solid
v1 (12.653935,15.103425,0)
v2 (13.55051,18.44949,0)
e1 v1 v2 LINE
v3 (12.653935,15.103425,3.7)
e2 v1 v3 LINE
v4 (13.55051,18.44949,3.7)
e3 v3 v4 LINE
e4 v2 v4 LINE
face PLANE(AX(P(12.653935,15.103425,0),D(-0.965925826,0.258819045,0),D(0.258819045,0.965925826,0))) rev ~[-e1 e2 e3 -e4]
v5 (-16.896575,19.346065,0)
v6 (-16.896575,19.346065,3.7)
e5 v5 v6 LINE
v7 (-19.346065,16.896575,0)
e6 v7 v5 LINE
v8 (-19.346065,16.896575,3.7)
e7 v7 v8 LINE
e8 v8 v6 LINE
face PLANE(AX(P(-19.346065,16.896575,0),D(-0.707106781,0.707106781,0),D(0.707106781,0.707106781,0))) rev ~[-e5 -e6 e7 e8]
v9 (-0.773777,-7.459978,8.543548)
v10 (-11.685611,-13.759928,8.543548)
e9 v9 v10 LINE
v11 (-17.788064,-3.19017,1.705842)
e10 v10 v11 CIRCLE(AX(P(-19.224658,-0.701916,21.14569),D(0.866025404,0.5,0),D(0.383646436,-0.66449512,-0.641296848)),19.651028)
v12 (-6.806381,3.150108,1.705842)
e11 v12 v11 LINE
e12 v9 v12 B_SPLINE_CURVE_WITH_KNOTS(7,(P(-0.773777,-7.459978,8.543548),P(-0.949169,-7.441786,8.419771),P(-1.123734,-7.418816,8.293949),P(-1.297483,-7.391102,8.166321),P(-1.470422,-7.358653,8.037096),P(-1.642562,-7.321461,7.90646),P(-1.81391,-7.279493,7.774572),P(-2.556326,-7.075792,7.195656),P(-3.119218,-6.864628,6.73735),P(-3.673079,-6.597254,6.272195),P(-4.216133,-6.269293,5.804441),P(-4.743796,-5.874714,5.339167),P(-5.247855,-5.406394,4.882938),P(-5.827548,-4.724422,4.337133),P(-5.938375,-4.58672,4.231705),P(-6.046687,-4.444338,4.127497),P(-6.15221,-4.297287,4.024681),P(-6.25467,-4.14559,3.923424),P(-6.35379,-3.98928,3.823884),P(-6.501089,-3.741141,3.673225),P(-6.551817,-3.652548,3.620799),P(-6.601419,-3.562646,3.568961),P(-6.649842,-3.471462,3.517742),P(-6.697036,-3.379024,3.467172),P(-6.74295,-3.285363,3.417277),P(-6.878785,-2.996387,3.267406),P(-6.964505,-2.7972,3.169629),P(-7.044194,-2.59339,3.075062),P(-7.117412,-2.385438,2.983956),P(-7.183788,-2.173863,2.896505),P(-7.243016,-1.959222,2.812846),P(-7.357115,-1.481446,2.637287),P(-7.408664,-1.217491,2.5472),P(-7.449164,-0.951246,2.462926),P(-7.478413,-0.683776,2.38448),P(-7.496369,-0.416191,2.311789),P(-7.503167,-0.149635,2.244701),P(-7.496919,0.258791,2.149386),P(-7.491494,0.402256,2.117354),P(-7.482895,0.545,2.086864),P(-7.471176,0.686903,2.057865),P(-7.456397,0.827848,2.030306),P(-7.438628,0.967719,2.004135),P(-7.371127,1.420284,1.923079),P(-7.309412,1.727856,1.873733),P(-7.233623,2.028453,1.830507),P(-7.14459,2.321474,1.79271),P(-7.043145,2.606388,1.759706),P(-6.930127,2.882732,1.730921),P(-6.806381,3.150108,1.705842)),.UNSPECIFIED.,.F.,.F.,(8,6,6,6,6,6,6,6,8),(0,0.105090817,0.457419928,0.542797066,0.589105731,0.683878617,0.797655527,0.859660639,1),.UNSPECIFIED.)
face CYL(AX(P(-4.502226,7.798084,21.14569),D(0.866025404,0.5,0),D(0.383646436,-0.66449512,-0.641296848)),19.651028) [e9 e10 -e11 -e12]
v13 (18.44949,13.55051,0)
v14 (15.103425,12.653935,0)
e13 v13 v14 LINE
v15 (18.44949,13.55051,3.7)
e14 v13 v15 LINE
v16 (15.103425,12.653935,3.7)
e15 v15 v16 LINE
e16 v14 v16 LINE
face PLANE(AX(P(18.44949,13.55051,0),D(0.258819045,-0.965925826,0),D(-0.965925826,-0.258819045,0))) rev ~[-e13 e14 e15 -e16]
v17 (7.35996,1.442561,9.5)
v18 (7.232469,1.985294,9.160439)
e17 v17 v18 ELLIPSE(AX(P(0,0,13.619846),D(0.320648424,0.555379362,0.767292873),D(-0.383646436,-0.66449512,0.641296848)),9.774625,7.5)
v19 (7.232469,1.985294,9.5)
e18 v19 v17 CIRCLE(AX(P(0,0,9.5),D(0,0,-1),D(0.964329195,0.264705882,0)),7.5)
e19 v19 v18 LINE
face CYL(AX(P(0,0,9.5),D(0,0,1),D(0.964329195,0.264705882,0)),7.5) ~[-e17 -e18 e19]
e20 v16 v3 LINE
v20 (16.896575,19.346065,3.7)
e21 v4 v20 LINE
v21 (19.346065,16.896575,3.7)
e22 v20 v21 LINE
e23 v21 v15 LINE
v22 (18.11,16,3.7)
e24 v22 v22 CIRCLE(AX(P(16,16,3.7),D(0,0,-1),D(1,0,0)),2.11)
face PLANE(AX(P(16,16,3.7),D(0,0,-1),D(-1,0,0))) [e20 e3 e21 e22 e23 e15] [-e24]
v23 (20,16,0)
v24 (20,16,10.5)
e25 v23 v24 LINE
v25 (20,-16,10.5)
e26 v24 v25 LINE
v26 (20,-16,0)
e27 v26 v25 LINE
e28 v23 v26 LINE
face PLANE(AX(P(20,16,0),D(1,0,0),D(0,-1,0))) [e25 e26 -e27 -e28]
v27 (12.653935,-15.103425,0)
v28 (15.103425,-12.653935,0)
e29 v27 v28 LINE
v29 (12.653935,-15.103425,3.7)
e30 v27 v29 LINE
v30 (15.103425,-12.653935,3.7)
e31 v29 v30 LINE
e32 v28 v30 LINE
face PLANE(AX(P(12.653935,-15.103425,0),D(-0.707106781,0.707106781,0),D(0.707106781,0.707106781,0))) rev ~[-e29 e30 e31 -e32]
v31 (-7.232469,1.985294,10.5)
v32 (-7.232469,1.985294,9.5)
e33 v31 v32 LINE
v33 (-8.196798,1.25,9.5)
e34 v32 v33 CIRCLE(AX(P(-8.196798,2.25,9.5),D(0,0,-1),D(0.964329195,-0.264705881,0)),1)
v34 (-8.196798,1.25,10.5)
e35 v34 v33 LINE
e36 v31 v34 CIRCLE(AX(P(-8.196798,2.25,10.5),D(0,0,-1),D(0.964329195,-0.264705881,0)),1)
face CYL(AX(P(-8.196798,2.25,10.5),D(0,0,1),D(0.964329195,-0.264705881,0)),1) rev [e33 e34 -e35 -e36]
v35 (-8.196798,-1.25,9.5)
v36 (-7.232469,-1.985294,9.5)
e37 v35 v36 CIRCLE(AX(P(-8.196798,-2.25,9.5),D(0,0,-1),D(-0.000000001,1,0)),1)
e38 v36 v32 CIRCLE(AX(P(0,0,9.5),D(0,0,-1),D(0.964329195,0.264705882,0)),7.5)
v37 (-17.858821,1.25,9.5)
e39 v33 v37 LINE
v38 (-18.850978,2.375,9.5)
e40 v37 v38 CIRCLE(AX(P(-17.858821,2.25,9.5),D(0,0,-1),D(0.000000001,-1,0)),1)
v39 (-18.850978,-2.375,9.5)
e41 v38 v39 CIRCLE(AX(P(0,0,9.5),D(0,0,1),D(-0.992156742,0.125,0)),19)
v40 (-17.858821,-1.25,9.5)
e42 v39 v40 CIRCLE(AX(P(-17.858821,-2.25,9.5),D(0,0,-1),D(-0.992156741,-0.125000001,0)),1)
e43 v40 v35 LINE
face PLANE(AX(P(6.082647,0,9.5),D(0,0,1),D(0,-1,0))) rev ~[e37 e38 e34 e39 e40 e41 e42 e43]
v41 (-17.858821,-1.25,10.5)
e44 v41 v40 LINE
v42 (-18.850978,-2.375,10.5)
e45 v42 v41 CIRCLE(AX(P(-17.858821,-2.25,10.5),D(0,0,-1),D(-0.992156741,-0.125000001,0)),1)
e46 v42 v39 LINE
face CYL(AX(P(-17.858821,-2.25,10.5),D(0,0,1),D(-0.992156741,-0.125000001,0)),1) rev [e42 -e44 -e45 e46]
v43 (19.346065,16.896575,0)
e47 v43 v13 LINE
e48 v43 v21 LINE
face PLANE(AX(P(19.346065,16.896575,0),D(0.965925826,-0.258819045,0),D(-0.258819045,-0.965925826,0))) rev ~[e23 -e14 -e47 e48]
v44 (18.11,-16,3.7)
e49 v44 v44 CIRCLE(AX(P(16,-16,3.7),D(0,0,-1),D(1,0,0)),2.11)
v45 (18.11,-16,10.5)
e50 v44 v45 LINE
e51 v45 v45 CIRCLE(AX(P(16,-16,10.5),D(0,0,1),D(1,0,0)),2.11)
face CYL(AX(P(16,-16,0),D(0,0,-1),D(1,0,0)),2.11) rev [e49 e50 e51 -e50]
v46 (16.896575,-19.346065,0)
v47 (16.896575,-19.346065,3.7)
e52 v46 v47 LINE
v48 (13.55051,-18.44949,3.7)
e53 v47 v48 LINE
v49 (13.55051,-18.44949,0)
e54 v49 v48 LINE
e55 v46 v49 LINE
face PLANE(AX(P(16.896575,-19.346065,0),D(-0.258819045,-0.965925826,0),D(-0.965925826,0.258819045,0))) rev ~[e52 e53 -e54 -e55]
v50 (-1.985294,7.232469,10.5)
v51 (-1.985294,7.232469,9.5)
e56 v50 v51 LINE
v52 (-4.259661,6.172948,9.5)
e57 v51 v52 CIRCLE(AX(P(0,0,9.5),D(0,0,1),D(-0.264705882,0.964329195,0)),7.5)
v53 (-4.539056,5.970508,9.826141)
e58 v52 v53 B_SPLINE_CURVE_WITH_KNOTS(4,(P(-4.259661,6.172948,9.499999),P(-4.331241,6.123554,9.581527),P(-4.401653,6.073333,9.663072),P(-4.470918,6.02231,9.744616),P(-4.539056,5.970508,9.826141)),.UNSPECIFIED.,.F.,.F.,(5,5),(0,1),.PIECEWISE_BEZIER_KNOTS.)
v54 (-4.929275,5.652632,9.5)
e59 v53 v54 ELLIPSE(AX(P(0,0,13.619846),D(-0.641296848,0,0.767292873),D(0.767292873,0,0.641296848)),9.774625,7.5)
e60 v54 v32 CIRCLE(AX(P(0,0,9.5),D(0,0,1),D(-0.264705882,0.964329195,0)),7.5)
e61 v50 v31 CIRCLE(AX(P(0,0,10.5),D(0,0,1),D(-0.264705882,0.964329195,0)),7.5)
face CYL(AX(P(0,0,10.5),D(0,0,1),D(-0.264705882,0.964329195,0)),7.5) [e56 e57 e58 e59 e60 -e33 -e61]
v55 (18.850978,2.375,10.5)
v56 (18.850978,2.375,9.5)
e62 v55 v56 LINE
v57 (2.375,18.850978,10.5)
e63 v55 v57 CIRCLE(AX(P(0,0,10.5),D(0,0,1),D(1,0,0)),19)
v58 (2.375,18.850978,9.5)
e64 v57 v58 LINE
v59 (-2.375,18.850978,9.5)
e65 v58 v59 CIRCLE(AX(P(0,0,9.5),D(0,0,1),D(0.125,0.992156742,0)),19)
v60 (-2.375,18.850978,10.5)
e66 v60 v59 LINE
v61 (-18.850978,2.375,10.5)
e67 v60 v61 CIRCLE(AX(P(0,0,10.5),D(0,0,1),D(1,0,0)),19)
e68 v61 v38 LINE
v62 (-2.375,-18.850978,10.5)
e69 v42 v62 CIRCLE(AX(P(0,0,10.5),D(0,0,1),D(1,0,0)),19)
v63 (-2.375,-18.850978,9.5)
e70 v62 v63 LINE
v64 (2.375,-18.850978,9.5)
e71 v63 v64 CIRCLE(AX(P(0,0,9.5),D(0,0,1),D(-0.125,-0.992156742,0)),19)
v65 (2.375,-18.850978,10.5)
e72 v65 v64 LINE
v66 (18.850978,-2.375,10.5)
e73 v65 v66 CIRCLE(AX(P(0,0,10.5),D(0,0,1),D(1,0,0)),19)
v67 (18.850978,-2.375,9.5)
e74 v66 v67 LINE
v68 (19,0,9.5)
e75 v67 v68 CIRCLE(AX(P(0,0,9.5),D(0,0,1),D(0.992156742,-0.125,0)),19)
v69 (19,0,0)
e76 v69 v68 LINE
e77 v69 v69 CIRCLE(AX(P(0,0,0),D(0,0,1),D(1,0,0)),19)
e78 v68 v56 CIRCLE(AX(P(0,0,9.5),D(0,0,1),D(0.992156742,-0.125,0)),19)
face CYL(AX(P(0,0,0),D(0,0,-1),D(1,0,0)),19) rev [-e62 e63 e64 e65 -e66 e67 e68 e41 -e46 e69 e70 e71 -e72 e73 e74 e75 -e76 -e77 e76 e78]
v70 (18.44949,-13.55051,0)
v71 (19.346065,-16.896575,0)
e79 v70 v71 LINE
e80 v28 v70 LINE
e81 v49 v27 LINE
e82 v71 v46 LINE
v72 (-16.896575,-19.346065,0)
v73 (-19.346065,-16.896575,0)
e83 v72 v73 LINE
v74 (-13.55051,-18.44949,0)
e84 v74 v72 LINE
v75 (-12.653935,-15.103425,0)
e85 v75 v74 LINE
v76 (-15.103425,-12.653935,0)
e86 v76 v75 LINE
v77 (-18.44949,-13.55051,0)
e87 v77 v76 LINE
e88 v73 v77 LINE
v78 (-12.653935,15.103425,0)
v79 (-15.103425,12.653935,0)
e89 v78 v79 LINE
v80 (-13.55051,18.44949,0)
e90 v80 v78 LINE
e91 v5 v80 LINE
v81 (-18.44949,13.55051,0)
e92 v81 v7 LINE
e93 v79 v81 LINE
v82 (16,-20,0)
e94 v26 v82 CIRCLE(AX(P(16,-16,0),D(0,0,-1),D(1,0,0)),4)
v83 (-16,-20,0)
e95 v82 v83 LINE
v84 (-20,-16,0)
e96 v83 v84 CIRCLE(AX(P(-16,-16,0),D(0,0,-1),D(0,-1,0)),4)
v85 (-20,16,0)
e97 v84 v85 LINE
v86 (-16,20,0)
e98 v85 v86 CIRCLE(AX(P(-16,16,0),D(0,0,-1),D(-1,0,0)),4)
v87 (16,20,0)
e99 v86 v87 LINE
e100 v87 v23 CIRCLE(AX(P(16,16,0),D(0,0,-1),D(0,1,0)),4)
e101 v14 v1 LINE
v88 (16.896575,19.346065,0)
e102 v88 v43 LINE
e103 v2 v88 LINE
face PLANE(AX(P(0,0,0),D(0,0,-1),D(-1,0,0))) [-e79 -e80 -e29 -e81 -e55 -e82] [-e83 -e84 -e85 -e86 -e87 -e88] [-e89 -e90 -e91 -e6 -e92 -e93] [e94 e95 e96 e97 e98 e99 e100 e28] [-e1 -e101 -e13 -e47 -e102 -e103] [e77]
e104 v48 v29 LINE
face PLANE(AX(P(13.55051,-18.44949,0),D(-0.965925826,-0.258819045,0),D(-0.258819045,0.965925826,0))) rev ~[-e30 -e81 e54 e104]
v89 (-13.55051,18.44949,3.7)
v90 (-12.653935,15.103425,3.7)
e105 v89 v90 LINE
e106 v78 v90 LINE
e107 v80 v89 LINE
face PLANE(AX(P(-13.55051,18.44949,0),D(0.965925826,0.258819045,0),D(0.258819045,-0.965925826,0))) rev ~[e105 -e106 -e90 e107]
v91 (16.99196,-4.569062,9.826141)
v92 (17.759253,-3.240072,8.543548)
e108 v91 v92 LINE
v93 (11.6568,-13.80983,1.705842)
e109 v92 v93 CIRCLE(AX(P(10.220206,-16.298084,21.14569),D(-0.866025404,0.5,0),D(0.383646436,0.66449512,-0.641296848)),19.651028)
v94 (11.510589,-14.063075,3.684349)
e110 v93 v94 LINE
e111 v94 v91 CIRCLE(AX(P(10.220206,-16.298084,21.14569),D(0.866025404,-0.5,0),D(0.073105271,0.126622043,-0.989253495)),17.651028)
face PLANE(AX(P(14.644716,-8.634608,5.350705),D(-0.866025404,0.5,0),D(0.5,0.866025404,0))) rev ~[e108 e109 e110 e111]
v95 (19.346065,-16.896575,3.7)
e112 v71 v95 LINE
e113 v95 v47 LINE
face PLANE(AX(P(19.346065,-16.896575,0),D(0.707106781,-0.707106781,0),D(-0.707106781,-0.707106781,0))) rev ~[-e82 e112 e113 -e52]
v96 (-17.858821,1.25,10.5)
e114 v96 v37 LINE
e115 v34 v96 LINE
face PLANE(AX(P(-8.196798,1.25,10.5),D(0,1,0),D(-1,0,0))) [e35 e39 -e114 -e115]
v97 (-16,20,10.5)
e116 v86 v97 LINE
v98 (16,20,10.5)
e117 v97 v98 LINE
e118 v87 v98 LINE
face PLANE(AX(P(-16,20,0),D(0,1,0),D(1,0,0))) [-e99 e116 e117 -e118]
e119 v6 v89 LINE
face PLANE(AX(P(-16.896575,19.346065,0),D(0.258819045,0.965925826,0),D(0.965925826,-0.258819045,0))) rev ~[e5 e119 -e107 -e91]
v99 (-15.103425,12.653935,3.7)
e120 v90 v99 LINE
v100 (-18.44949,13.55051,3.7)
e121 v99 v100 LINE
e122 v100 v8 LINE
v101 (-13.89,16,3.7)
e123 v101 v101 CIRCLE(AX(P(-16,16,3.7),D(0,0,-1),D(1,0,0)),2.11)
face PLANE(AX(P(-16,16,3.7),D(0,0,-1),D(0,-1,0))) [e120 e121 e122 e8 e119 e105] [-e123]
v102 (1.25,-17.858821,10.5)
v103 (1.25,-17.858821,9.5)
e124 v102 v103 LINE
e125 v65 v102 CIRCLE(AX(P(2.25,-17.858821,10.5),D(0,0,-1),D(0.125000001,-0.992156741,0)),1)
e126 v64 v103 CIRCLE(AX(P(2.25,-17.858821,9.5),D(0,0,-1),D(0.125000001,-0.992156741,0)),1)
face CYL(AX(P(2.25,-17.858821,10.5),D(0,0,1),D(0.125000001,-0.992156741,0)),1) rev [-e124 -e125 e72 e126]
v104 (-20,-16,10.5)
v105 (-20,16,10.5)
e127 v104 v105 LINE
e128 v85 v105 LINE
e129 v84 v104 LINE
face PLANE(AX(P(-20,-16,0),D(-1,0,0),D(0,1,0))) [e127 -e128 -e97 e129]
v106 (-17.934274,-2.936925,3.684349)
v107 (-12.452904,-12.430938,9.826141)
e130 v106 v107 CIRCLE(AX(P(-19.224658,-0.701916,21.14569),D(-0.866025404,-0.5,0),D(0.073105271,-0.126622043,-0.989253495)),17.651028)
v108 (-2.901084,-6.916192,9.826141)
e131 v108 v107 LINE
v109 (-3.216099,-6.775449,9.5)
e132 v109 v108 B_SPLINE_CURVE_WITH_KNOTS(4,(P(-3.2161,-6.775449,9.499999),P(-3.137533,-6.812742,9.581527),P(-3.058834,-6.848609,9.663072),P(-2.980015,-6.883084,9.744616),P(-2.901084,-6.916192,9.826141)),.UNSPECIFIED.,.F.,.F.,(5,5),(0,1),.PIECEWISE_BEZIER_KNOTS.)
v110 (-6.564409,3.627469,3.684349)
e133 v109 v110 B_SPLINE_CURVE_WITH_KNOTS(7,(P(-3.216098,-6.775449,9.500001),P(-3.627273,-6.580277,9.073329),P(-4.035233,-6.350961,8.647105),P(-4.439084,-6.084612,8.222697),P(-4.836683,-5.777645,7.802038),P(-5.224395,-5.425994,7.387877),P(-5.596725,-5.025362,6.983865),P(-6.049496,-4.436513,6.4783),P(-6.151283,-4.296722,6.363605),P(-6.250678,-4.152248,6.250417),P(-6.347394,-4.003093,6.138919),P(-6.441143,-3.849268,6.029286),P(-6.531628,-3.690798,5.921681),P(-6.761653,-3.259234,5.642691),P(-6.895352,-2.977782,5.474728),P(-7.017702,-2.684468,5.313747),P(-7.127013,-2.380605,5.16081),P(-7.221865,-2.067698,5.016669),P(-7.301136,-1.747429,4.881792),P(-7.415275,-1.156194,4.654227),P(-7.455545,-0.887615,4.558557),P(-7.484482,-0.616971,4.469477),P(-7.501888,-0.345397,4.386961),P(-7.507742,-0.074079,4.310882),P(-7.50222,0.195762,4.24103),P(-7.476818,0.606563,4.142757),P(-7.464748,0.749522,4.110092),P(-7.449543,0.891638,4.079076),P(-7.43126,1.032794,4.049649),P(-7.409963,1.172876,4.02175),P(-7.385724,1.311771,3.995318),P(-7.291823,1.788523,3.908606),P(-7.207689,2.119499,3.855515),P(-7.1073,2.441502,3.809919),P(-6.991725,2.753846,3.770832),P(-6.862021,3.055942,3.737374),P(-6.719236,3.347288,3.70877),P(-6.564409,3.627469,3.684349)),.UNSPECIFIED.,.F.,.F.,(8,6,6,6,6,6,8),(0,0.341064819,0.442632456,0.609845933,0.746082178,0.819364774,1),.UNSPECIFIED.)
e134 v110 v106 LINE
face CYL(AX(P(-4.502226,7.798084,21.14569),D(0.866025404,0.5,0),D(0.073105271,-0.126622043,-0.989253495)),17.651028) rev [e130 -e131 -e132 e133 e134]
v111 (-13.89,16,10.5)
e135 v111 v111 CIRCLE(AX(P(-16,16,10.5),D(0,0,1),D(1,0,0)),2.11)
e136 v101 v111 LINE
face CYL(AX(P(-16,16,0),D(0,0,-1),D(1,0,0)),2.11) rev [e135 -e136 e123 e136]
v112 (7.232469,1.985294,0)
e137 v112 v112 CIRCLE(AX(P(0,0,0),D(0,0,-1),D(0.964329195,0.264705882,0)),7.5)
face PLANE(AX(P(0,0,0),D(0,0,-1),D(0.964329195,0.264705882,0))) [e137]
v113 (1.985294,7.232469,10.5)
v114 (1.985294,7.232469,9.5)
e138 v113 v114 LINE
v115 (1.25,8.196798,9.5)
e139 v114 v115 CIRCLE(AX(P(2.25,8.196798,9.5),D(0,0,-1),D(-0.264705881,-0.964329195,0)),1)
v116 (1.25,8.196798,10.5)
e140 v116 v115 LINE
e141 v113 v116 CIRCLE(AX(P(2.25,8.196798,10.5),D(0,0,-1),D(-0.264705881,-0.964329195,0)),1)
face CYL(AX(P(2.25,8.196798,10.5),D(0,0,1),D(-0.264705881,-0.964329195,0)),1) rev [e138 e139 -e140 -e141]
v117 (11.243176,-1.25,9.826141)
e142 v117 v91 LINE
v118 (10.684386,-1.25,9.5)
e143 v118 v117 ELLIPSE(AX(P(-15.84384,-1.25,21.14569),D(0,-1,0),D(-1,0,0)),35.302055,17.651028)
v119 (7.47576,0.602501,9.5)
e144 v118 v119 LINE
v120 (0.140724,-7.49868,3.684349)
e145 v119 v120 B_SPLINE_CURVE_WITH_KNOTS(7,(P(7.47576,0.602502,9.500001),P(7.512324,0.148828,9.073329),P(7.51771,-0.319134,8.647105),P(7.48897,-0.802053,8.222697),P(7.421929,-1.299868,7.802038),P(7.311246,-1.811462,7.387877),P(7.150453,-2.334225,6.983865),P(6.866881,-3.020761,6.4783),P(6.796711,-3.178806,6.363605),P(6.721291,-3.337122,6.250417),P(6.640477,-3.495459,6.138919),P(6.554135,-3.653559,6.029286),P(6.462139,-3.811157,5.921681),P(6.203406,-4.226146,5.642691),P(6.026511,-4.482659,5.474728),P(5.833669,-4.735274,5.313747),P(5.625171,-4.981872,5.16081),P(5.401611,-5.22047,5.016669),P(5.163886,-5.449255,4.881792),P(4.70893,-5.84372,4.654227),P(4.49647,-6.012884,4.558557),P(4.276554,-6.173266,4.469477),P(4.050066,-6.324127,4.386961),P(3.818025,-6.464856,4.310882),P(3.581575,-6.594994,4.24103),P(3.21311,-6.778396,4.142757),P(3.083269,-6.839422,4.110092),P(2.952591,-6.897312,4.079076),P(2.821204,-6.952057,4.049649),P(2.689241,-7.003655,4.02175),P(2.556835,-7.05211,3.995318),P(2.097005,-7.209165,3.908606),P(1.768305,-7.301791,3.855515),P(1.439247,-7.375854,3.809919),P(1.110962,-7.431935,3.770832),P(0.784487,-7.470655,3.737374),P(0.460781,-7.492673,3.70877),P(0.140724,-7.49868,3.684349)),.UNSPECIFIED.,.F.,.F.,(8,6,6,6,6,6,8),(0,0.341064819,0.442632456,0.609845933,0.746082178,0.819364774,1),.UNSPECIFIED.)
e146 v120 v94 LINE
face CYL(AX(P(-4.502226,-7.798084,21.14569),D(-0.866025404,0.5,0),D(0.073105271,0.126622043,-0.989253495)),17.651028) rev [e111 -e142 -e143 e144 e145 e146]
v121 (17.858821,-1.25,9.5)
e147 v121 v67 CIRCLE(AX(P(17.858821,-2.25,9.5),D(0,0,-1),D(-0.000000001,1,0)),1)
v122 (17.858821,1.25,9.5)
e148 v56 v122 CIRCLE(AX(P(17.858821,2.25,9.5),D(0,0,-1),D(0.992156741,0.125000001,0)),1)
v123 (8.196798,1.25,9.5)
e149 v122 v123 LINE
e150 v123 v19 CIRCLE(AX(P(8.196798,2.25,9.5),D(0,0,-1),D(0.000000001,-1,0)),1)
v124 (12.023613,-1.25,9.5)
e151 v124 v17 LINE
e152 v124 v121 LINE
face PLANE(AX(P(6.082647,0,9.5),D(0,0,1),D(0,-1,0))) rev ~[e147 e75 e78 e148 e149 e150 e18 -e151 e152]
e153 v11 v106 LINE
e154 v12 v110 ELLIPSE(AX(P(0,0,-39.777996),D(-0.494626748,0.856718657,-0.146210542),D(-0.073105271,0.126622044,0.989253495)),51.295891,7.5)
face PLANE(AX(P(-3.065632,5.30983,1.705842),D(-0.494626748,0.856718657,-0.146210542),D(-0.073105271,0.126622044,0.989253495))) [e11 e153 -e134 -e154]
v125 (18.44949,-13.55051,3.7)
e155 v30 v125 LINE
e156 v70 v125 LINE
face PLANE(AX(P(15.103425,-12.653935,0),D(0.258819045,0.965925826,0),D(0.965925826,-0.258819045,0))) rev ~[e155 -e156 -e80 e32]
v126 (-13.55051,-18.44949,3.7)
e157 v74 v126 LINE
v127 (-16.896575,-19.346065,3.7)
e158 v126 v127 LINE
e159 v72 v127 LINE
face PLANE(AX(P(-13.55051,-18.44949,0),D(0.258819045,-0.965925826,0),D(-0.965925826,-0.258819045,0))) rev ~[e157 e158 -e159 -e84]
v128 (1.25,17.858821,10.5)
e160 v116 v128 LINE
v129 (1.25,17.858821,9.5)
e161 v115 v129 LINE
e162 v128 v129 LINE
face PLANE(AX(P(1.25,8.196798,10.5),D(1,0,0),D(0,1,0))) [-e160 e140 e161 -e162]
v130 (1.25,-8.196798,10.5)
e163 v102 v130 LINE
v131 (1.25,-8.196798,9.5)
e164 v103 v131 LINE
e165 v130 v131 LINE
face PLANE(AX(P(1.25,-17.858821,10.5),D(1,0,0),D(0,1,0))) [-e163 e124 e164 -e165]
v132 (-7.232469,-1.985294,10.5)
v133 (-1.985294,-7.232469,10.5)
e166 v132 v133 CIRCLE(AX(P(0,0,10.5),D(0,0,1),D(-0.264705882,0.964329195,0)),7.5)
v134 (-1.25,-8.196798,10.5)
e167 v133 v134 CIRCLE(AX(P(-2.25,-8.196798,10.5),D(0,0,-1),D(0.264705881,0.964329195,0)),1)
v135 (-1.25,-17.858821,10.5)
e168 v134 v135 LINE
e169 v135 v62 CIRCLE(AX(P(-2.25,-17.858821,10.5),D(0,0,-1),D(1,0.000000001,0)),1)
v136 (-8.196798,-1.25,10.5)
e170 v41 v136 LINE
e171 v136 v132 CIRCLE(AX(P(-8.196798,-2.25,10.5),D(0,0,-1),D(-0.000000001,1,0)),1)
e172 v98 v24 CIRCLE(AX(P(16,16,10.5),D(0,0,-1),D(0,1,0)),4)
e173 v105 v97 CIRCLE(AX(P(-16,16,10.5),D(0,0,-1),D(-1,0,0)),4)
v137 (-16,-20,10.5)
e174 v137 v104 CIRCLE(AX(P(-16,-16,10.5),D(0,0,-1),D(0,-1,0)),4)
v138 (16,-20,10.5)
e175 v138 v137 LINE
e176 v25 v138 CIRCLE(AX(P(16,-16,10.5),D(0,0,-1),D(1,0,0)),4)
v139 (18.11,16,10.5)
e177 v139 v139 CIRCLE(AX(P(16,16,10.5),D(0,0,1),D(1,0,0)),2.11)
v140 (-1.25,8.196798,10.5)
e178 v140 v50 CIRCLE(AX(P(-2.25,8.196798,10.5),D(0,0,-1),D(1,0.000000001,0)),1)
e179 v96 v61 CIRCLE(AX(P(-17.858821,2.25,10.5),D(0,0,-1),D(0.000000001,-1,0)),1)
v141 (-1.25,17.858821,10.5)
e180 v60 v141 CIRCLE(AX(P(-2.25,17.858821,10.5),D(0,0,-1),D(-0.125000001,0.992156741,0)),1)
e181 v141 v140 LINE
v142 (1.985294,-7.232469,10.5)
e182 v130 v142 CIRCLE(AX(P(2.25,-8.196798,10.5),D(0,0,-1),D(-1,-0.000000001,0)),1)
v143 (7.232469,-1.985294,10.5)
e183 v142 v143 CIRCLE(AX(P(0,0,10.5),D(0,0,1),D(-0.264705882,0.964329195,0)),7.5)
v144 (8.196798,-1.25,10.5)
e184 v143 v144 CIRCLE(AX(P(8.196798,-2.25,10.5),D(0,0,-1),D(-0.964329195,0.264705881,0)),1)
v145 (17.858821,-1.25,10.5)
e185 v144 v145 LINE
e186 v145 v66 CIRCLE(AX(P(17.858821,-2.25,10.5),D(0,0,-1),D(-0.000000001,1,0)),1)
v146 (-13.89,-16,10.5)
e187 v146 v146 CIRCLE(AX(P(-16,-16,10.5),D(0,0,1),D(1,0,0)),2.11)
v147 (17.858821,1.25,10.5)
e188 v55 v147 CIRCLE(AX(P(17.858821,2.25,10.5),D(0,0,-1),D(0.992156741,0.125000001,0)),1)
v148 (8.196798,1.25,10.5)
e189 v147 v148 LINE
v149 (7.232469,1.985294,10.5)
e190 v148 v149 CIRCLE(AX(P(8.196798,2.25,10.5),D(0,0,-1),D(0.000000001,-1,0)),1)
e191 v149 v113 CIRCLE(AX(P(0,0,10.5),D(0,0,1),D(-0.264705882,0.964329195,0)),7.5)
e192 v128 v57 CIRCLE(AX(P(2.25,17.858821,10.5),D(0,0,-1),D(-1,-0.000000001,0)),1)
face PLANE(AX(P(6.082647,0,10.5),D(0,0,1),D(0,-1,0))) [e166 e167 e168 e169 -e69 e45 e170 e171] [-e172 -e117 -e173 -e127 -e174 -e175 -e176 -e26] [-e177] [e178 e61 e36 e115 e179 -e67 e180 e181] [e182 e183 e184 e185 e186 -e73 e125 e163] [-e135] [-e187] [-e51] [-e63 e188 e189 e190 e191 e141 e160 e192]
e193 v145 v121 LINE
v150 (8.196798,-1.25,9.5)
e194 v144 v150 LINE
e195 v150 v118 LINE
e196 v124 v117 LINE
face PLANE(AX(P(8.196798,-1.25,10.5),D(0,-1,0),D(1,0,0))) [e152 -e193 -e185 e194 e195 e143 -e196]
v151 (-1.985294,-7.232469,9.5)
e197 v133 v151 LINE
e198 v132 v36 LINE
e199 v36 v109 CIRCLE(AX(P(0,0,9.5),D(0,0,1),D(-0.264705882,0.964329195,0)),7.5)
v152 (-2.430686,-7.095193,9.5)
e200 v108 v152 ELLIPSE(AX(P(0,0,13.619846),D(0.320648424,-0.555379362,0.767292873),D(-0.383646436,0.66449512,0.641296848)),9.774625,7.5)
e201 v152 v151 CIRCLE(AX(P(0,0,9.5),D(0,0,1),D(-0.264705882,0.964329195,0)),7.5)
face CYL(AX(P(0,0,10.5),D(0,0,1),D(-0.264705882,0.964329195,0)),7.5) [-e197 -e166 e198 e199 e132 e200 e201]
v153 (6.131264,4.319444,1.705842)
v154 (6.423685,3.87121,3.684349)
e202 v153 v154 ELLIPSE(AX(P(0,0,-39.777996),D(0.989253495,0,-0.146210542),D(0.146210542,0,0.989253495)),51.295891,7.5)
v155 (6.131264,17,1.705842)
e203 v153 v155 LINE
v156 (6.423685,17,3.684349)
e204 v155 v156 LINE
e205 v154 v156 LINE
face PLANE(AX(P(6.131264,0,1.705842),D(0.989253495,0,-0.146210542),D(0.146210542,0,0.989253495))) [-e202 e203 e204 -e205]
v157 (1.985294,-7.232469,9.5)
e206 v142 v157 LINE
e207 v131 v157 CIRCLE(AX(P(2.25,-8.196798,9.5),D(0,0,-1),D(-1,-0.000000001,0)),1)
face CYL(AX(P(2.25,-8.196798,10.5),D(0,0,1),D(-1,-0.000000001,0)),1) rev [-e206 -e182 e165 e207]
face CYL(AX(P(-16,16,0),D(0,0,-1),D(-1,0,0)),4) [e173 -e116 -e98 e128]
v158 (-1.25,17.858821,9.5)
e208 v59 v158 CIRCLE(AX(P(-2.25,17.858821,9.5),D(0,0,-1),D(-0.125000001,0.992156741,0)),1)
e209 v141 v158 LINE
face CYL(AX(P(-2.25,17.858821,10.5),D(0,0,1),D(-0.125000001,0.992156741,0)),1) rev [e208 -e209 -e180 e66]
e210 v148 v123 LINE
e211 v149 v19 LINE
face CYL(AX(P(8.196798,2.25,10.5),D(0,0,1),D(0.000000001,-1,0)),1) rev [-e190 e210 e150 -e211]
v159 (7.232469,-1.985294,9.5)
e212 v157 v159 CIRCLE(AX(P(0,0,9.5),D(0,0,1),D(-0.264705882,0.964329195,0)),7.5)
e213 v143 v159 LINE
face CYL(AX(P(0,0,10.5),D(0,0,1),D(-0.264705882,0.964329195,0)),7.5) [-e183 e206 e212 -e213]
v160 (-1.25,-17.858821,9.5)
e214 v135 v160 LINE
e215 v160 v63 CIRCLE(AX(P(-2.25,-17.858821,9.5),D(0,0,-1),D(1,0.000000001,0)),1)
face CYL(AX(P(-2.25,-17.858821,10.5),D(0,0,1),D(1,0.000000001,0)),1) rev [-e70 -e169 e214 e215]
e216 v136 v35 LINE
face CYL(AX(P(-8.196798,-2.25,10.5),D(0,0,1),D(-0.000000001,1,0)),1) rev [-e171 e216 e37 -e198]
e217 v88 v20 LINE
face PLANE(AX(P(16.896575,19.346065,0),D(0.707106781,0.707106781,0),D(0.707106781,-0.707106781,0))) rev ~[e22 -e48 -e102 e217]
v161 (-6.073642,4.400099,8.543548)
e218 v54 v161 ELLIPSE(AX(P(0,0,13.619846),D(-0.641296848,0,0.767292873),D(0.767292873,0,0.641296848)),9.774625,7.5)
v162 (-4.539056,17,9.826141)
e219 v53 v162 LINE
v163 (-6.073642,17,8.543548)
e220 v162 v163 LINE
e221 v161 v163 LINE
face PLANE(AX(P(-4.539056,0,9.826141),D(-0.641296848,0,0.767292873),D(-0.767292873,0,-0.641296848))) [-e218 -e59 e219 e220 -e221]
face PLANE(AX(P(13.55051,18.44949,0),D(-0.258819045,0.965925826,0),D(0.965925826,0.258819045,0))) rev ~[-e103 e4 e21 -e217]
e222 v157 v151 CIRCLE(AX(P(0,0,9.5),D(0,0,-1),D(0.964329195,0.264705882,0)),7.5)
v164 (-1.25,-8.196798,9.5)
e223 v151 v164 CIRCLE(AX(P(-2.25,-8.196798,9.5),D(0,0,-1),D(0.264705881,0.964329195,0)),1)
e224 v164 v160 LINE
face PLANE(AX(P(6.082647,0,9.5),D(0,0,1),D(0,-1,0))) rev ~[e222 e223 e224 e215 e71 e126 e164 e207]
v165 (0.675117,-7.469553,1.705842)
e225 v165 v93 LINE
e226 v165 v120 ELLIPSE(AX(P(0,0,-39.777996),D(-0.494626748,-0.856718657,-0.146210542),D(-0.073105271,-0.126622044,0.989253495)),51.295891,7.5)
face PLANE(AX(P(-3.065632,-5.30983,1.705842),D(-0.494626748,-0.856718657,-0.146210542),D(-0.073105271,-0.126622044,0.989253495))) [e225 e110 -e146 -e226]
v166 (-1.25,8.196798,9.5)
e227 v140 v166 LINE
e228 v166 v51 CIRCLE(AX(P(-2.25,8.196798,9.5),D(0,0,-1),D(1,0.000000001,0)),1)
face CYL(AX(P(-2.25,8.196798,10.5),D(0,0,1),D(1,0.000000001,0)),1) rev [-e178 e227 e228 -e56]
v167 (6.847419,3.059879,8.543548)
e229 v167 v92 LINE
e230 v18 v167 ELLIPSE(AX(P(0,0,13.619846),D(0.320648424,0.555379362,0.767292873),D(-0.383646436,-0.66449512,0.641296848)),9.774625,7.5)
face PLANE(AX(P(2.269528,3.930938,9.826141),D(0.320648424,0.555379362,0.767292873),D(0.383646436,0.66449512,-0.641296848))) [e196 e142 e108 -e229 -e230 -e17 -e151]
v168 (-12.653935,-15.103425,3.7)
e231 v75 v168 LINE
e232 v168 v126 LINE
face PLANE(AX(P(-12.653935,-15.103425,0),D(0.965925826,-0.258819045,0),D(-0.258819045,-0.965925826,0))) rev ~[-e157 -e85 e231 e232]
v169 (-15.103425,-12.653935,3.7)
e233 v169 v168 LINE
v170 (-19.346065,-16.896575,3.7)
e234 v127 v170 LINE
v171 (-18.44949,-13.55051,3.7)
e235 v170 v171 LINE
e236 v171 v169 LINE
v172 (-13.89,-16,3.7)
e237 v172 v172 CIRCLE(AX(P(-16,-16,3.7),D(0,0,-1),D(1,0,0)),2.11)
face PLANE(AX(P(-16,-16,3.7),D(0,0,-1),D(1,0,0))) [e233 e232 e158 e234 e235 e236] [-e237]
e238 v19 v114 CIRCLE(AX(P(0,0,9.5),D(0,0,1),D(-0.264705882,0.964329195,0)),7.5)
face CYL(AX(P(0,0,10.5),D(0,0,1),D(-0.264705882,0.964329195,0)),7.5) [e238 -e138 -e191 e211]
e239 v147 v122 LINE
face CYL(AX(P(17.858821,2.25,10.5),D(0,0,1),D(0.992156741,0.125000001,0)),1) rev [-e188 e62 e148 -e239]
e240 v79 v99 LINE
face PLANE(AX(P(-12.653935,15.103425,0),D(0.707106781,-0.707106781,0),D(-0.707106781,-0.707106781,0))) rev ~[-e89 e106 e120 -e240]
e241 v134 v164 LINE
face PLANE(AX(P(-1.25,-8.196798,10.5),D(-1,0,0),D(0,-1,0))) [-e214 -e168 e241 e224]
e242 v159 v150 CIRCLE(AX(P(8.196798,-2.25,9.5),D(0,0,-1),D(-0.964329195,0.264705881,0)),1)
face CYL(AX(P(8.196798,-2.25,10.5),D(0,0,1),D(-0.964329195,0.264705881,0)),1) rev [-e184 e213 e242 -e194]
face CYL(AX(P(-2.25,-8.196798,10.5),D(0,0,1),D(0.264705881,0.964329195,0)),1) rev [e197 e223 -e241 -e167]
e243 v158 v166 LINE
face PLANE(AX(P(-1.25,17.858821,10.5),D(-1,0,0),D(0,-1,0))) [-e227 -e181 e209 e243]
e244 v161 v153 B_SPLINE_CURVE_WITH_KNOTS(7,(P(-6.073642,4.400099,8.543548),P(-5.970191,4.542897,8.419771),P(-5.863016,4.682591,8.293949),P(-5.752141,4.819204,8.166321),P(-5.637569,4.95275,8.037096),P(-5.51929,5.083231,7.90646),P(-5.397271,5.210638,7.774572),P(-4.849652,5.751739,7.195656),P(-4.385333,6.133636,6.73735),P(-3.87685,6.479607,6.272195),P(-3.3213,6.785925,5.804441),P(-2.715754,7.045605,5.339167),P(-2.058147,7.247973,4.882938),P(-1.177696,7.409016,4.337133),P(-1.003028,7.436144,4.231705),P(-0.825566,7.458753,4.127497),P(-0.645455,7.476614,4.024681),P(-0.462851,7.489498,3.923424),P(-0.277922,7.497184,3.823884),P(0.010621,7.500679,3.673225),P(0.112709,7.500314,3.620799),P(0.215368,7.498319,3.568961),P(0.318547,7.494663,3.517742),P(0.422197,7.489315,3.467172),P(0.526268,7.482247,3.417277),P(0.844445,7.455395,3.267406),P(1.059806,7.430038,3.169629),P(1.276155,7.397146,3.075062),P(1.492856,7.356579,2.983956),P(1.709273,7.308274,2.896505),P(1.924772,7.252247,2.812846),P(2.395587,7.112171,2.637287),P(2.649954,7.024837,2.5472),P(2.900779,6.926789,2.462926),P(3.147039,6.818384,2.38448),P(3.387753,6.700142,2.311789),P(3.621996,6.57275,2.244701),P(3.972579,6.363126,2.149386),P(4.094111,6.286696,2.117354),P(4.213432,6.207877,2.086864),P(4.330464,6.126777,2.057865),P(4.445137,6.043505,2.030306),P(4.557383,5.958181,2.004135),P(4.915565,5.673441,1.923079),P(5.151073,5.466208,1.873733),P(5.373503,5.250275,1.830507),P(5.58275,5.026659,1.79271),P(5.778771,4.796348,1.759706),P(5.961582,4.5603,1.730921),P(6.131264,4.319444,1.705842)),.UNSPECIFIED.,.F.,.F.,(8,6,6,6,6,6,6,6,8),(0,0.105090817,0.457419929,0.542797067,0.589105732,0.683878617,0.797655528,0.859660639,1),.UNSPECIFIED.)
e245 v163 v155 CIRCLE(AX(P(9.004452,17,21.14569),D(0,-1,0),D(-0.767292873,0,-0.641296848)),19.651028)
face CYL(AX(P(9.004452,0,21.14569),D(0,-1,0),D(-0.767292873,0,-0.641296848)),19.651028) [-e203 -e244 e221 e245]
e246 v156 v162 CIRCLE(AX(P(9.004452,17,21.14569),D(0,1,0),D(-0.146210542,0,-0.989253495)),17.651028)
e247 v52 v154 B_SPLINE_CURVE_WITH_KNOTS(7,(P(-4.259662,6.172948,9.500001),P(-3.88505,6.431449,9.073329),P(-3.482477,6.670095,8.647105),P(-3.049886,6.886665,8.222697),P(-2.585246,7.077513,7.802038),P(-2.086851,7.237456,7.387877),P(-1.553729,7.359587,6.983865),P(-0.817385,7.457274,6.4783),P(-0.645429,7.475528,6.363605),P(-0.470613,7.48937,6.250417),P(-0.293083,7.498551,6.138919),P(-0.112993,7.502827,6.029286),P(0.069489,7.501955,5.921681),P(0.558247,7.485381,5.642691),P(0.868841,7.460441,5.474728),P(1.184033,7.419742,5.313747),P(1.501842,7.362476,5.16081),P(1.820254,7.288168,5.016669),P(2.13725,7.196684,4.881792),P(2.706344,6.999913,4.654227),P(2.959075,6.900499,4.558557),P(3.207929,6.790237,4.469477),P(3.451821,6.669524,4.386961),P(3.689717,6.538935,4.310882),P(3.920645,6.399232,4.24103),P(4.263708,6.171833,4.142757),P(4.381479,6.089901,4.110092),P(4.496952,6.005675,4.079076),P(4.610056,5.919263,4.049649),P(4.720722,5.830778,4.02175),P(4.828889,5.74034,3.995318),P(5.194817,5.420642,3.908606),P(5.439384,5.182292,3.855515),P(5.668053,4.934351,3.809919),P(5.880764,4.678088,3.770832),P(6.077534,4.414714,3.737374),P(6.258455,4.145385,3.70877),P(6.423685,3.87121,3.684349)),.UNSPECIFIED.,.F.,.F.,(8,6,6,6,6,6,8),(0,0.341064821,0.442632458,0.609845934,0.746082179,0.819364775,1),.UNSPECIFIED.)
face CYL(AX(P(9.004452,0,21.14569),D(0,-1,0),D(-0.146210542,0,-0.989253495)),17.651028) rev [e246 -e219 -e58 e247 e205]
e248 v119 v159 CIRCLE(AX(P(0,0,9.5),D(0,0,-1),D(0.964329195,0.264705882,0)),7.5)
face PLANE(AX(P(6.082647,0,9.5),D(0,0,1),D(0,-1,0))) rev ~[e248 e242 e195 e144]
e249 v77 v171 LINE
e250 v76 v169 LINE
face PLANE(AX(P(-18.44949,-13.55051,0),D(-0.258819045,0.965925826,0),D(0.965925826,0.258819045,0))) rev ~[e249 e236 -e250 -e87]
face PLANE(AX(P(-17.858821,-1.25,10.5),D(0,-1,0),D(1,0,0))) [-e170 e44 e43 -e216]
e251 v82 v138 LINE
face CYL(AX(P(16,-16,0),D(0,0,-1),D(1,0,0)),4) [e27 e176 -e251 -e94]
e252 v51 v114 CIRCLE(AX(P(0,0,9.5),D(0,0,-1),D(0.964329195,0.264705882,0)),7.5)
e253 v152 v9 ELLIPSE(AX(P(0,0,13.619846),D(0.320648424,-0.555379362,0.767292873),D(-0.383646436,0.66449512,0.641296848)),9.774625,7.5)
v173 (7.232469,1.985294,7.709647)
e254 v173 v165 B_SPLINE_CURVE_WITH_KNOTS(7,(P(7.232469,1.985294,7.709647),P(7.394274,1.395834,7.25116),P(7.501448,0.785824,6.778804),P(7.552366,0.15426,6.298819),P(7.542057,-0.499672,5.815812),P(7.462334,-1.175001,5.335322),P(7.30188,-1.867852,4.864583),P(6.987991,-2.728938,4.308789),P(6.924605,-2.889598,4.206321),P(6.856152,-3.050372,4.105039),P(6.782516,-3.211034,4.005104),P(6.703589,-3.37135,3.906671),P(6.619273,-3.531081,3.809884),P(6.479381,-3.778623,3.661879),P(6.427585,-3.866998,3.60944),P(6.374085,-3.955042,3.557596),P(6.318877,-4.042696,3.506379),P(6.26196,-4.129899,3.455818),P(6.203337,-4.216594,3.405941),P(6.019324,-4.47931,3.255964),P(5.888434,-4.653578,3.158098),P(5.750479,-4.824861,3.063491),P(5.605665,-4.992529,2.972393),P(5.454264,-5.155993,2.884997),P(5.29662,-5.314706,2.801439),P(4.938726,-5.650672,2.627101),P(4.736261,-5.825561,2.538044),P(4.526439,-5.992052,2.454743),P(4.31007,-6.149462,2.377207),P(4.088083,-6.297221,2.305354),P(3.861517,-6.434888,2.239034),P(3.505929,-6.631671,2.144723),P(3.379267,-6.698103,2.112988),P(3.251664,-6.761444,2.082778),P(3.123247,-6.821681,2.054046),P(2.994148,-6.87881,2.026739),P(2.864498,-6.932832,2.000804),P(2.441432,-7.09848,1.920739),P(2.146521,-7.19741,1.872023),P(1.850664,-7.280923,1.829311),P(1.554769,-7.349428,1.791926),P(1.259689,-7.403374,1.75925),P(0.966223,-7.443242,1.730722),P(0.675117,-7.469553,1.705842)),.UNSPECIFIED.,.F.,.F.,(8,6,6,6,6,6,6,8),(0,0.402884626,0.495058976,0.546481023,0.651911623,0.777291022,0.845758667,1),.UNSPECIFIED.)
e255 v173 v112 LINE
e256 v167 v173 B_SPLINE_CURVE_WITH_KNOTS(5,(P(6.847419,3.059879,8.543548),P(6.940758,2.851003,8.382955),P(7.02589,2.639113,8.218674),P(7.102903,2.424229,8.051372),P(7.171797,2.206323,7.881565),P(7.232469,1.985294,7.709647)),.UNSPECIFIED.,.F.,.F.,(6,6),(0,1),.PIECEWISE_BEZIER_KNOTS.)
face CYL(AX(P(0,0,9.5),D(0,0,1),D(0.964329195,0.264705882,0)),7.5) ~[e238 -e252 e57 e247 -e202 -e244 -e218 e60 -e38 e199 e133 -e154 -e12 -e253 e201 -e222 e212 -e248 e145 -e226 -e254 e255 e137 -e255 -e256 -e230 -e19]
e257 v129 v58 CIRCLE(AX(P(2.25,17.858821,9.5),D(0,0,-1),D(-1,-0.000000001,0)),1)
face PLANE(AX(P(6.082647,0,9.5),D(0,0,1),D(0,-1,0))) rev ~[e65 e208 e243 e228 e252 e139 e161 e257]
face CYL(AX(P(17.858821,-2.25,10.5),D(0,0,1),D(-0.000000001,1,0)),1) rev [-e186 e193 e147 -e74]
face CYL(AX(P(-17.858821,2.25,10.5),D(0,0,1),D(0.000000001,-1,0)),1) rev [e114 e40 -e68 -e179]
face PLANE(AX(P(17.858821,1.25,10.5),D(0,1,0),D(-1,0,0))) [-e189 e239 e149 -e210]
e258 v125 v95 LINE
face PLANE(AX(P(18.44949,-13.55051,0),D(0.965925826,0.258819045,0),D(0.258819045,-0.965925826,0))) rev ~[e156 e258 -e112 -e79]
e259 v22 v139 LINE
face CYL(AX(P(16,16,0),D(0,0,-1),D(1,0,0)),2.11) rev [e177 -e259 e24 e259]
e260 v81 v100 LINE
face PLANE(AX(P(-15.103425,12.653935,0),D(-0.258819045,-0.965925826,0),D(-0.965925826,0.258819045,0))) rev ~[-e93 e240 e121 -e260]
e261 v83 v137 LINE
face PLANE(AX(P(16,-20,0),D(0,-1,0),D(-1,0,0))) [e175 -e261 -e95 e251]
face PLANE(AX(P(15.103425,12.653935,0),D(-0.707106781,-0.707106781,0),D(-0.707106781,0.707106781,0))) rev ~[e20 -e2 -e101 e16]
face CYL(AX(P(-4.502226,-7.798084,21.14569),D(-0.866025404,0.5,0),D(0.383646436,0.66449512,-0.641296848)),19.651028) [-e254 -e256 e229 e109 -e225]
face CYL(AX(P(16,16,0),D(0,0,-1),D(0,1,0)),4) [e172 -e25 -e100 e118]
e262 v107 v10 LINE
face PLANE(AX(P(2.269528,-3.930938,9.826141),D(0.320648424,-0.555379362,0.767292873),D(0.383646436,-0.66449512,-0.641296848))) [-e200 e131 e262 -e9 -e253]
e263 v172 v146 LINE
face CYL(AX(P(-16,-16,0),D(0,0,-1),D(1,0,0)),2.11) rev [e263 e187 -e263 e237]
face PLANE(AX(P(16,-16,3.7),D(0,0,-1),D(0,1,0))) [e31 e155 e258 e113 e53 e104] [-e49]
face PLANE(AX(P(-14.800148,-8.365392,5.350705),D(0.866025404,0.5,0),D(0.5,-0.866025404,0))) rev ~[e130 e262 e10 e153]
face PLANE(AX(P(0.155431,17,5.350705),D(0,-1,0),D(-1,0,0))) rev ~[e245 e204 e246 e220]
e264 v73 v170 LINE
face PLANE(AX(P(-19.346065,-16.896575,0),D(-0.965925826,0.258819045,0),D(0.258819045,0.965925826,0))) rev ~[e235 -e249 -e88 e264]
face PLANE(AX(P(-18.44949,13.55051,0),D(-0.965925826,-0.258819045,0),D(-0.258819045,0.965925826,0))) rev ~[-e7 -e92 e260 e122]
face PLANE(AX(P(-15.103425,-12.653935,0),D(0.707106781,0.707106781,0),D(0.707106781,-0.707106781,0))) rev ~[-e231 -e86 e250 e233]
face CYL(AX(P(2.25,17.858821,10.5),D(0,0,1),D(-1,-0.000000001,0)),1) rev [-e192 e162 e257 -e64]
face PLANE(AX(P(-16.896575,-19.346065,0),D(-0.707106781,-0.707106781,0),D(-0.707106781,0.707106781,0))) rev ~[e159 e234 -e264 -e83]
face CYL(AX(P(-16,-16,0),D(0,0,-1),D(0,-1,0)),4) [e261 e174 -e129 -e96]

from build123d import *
from build123d.topology import SkipClean

# Parameters (mm, degrees)
SKETCH1_R           = 19
SKETCH1_R_2         = 2.11
BOSS_EXTRUDE1_DEPTH = 10.5
BOSS_EXTRUDE2_DEPTH = 1
CIRPATTERN1_COUNT   = 4
SKETCH4_R           = 7.5
BOSS_EXTRUDE3_DEPTH = 9.5
EXTRUDE_THIN1_DEPTH = 17
CIRPATTERN2_COUNT   = 3
CUT_EXTRUDE1_DEPTH  = 3.7
CIRPATTERN3_COUNT   = 4


with BuildPart() as part:
    # Sketch1 → Boss-Extrude1 (new body)
    with BuildSketch(Plane.XY):
        with BuildLine():
            Line((-16, 20), (16, 20))
            ThreePointArc((16, 20), (18.828427125, 18.828427125), (20, 16))
            Line((20, 16), (20, -16))
            ThreePointArc((20, -16), (18.828427125, -18.828427125), (16, -20))
            Line((16, -20), (-16, -20))
            ThreePointArc((-16, -20), (-18.828427125, -18.828427125), (-20, -16))
            Line((-20, -16), (-20, 16))
            ThreePointArc((-20, 16), (-18.828427125, 18.828427125), (-16, 20))
        make_face()
        Circle(SKETCH1_R, mode=Mode.SUBTRACT)
        with Locations((-16, 16)):
            Circle(SKETCH1_R_2, mode=Mode.SUBTRACT)
        with Locations((-16, -16)):
            Circle(SKETCH1_R_2, mode=Mode.SUBTRACT)
        with Locations((16, -16)):
            Circle(SKETCH1_R_2, mode=Mode.SUBTRACT)
        with Locations((16, 16)):
            Circle(SKETCH1_R_2, mode=Mode.SUBTRACT)
    extrude(amount=BOSS_EXTRUDE1_DEPTH)

    # Sketch2 → Boss-Extrude2 (add)
    with BuildSketch(Plane.XY.offset(10.5)):
        with BuildLine():
            Line((-1.25, 17.85882135), (-1.25, 8.196798155))
            ThreePointArc((-1.25, 8.196798155), (-1.454793774, 7.590459093), (-1.985294118, 7.232468961))
            ThreePointArc((-1.985294118, 7.232468961), (0, -7.5), (1.985294118, 7.232468961))
            ThreePointArc((1.985294118, 7.232468961), (1.454793774, 7.590459093), (1.25, 8.196798155))
            Line((1.25, 8.196798155), (1.25, 17.85882135))
            ThreePointArc((1.25, 17.85882135), (1.588562172, 18.60882135), (2.375, 18.850978091))
            ThreePointArc((2.375, 18.850978091), (0, 19), (-2.375, 18.850978091))
            ThreePointArc((-2.375, 18.850978091), (-1.588562172, 18.60882135), (-1.25, 17.85882135))
        make_face()
    boss_extrude2 = extrude(amount=-BOSS_EXTRUDE2_DEPTH)

    # CirPattern1: Boss-Extrude2 ×4 about axis
    cirpattern1_axis = Axis((0, 0, 0), (0, 0, 1))
    for i in range(1, CIRPATTERN1_COUNT):
        add(boss_extrude2.rotate(cirpattern1_axis, i * 360 / CIRPATTERN1_COUNT))

    # Sketch4 → Boss-Extrude3 (add)
    with SkipClean():  # keep this step's faces unmerged: merging them makes the solid invalid here
        with BuildSketch(Plane(origin=(0, 0, 9.5), x_dir=(-1, 0, 0), z_dir=(0, 0, -1))):
            with Locations(Location((0, 0, 0), (0, 0, 164.650522983))):  # turned: the seam where the file's is
                Circle(SKETCH4_R)
        extrude(amount=BOSS_EXTRUDE3_DEPTH)

    # Sketch5 → Extrude-Thin1 (add)
    with SkipClean():  # keep this step's faces unmerged: merging them makes the solid invalid here
        with BuildSketch(Plane(origin=(0, 0, 0), x_dir=(1, 0, 0), z_dir=(0, 1, 0))):
            with BuildLine():
                ThreePointArc((-6.073641938, -8.543547558), (-0.600270019, -4.001821599), (6.131264125, -1.705841866))
                Line((6.131264125, -1.705841866), (6.423685209, -3.684348857))
                ThreePointArc((6.423685209, -3.684348857), (0.377258659, -5.746653305), (-4.539056193, -9.826141254))
                Line((-4.539056193, -9.826141254), (-6.073641938, -8.543547558))
            make_face()
        extrude_thin1 = extrude(amount=EXTRUDE_THIN1_DEPTH)

    # CirPattern2: Extrude-Thin1 ×3 about axis
    with SkipClean():  # keep this step's faces unmerged: merging them makes the solid invalid here
        cirpattern2_axis = Axis((0, 0, 0), (0, 0, 1))
        for i in range(1, CIRPATTERN2_COUNT):
            add(extrude_thin1.rotate(cirpattern2_axis, i * 360 / CIRPATTERN2_COUNT))

    # Sketch6 → Cut-Extrude1 (cut)
    with SkipClean():  # keep this step's faces unmerged: merging them makes the solid invalid here
        with BuildSketch(Plane(origin=(0, 0, 0), x_dir=(-1, 0, 0), z_dir=(0, 0, -1))):
            Polygon((-16.896575472, 19.346065215), (-19.346065215, 16.896575472), (-18.449489743, 13.550510257), (-15.103424528, 12.653934785), (-12.653934785, 15.103424528), (-13.550510257, 18.449489743), align=None)
        cut_extrude1 = extrude(amount=-CUT_EXTRUDE1_DEPTH, mode=Mode.SUBTRACT)

    # CirPattern3: Cut-Extrude1 ×4 about axis
    with SkipClean():  # keep this step's faces unmerged: merging them makes the solid invalid here
        cirpattern3_axis = Axis((0, 0, 0), (0, 0, 1))
        for i in range(1, CIRPATTERN3_COUNT):
            add(cut_extrude1.rotate(cirpattern3_axis, i * 360 / CIRPATTERN3_COUNT), mode=Mode.SUBTRACT)


solid = part.part
